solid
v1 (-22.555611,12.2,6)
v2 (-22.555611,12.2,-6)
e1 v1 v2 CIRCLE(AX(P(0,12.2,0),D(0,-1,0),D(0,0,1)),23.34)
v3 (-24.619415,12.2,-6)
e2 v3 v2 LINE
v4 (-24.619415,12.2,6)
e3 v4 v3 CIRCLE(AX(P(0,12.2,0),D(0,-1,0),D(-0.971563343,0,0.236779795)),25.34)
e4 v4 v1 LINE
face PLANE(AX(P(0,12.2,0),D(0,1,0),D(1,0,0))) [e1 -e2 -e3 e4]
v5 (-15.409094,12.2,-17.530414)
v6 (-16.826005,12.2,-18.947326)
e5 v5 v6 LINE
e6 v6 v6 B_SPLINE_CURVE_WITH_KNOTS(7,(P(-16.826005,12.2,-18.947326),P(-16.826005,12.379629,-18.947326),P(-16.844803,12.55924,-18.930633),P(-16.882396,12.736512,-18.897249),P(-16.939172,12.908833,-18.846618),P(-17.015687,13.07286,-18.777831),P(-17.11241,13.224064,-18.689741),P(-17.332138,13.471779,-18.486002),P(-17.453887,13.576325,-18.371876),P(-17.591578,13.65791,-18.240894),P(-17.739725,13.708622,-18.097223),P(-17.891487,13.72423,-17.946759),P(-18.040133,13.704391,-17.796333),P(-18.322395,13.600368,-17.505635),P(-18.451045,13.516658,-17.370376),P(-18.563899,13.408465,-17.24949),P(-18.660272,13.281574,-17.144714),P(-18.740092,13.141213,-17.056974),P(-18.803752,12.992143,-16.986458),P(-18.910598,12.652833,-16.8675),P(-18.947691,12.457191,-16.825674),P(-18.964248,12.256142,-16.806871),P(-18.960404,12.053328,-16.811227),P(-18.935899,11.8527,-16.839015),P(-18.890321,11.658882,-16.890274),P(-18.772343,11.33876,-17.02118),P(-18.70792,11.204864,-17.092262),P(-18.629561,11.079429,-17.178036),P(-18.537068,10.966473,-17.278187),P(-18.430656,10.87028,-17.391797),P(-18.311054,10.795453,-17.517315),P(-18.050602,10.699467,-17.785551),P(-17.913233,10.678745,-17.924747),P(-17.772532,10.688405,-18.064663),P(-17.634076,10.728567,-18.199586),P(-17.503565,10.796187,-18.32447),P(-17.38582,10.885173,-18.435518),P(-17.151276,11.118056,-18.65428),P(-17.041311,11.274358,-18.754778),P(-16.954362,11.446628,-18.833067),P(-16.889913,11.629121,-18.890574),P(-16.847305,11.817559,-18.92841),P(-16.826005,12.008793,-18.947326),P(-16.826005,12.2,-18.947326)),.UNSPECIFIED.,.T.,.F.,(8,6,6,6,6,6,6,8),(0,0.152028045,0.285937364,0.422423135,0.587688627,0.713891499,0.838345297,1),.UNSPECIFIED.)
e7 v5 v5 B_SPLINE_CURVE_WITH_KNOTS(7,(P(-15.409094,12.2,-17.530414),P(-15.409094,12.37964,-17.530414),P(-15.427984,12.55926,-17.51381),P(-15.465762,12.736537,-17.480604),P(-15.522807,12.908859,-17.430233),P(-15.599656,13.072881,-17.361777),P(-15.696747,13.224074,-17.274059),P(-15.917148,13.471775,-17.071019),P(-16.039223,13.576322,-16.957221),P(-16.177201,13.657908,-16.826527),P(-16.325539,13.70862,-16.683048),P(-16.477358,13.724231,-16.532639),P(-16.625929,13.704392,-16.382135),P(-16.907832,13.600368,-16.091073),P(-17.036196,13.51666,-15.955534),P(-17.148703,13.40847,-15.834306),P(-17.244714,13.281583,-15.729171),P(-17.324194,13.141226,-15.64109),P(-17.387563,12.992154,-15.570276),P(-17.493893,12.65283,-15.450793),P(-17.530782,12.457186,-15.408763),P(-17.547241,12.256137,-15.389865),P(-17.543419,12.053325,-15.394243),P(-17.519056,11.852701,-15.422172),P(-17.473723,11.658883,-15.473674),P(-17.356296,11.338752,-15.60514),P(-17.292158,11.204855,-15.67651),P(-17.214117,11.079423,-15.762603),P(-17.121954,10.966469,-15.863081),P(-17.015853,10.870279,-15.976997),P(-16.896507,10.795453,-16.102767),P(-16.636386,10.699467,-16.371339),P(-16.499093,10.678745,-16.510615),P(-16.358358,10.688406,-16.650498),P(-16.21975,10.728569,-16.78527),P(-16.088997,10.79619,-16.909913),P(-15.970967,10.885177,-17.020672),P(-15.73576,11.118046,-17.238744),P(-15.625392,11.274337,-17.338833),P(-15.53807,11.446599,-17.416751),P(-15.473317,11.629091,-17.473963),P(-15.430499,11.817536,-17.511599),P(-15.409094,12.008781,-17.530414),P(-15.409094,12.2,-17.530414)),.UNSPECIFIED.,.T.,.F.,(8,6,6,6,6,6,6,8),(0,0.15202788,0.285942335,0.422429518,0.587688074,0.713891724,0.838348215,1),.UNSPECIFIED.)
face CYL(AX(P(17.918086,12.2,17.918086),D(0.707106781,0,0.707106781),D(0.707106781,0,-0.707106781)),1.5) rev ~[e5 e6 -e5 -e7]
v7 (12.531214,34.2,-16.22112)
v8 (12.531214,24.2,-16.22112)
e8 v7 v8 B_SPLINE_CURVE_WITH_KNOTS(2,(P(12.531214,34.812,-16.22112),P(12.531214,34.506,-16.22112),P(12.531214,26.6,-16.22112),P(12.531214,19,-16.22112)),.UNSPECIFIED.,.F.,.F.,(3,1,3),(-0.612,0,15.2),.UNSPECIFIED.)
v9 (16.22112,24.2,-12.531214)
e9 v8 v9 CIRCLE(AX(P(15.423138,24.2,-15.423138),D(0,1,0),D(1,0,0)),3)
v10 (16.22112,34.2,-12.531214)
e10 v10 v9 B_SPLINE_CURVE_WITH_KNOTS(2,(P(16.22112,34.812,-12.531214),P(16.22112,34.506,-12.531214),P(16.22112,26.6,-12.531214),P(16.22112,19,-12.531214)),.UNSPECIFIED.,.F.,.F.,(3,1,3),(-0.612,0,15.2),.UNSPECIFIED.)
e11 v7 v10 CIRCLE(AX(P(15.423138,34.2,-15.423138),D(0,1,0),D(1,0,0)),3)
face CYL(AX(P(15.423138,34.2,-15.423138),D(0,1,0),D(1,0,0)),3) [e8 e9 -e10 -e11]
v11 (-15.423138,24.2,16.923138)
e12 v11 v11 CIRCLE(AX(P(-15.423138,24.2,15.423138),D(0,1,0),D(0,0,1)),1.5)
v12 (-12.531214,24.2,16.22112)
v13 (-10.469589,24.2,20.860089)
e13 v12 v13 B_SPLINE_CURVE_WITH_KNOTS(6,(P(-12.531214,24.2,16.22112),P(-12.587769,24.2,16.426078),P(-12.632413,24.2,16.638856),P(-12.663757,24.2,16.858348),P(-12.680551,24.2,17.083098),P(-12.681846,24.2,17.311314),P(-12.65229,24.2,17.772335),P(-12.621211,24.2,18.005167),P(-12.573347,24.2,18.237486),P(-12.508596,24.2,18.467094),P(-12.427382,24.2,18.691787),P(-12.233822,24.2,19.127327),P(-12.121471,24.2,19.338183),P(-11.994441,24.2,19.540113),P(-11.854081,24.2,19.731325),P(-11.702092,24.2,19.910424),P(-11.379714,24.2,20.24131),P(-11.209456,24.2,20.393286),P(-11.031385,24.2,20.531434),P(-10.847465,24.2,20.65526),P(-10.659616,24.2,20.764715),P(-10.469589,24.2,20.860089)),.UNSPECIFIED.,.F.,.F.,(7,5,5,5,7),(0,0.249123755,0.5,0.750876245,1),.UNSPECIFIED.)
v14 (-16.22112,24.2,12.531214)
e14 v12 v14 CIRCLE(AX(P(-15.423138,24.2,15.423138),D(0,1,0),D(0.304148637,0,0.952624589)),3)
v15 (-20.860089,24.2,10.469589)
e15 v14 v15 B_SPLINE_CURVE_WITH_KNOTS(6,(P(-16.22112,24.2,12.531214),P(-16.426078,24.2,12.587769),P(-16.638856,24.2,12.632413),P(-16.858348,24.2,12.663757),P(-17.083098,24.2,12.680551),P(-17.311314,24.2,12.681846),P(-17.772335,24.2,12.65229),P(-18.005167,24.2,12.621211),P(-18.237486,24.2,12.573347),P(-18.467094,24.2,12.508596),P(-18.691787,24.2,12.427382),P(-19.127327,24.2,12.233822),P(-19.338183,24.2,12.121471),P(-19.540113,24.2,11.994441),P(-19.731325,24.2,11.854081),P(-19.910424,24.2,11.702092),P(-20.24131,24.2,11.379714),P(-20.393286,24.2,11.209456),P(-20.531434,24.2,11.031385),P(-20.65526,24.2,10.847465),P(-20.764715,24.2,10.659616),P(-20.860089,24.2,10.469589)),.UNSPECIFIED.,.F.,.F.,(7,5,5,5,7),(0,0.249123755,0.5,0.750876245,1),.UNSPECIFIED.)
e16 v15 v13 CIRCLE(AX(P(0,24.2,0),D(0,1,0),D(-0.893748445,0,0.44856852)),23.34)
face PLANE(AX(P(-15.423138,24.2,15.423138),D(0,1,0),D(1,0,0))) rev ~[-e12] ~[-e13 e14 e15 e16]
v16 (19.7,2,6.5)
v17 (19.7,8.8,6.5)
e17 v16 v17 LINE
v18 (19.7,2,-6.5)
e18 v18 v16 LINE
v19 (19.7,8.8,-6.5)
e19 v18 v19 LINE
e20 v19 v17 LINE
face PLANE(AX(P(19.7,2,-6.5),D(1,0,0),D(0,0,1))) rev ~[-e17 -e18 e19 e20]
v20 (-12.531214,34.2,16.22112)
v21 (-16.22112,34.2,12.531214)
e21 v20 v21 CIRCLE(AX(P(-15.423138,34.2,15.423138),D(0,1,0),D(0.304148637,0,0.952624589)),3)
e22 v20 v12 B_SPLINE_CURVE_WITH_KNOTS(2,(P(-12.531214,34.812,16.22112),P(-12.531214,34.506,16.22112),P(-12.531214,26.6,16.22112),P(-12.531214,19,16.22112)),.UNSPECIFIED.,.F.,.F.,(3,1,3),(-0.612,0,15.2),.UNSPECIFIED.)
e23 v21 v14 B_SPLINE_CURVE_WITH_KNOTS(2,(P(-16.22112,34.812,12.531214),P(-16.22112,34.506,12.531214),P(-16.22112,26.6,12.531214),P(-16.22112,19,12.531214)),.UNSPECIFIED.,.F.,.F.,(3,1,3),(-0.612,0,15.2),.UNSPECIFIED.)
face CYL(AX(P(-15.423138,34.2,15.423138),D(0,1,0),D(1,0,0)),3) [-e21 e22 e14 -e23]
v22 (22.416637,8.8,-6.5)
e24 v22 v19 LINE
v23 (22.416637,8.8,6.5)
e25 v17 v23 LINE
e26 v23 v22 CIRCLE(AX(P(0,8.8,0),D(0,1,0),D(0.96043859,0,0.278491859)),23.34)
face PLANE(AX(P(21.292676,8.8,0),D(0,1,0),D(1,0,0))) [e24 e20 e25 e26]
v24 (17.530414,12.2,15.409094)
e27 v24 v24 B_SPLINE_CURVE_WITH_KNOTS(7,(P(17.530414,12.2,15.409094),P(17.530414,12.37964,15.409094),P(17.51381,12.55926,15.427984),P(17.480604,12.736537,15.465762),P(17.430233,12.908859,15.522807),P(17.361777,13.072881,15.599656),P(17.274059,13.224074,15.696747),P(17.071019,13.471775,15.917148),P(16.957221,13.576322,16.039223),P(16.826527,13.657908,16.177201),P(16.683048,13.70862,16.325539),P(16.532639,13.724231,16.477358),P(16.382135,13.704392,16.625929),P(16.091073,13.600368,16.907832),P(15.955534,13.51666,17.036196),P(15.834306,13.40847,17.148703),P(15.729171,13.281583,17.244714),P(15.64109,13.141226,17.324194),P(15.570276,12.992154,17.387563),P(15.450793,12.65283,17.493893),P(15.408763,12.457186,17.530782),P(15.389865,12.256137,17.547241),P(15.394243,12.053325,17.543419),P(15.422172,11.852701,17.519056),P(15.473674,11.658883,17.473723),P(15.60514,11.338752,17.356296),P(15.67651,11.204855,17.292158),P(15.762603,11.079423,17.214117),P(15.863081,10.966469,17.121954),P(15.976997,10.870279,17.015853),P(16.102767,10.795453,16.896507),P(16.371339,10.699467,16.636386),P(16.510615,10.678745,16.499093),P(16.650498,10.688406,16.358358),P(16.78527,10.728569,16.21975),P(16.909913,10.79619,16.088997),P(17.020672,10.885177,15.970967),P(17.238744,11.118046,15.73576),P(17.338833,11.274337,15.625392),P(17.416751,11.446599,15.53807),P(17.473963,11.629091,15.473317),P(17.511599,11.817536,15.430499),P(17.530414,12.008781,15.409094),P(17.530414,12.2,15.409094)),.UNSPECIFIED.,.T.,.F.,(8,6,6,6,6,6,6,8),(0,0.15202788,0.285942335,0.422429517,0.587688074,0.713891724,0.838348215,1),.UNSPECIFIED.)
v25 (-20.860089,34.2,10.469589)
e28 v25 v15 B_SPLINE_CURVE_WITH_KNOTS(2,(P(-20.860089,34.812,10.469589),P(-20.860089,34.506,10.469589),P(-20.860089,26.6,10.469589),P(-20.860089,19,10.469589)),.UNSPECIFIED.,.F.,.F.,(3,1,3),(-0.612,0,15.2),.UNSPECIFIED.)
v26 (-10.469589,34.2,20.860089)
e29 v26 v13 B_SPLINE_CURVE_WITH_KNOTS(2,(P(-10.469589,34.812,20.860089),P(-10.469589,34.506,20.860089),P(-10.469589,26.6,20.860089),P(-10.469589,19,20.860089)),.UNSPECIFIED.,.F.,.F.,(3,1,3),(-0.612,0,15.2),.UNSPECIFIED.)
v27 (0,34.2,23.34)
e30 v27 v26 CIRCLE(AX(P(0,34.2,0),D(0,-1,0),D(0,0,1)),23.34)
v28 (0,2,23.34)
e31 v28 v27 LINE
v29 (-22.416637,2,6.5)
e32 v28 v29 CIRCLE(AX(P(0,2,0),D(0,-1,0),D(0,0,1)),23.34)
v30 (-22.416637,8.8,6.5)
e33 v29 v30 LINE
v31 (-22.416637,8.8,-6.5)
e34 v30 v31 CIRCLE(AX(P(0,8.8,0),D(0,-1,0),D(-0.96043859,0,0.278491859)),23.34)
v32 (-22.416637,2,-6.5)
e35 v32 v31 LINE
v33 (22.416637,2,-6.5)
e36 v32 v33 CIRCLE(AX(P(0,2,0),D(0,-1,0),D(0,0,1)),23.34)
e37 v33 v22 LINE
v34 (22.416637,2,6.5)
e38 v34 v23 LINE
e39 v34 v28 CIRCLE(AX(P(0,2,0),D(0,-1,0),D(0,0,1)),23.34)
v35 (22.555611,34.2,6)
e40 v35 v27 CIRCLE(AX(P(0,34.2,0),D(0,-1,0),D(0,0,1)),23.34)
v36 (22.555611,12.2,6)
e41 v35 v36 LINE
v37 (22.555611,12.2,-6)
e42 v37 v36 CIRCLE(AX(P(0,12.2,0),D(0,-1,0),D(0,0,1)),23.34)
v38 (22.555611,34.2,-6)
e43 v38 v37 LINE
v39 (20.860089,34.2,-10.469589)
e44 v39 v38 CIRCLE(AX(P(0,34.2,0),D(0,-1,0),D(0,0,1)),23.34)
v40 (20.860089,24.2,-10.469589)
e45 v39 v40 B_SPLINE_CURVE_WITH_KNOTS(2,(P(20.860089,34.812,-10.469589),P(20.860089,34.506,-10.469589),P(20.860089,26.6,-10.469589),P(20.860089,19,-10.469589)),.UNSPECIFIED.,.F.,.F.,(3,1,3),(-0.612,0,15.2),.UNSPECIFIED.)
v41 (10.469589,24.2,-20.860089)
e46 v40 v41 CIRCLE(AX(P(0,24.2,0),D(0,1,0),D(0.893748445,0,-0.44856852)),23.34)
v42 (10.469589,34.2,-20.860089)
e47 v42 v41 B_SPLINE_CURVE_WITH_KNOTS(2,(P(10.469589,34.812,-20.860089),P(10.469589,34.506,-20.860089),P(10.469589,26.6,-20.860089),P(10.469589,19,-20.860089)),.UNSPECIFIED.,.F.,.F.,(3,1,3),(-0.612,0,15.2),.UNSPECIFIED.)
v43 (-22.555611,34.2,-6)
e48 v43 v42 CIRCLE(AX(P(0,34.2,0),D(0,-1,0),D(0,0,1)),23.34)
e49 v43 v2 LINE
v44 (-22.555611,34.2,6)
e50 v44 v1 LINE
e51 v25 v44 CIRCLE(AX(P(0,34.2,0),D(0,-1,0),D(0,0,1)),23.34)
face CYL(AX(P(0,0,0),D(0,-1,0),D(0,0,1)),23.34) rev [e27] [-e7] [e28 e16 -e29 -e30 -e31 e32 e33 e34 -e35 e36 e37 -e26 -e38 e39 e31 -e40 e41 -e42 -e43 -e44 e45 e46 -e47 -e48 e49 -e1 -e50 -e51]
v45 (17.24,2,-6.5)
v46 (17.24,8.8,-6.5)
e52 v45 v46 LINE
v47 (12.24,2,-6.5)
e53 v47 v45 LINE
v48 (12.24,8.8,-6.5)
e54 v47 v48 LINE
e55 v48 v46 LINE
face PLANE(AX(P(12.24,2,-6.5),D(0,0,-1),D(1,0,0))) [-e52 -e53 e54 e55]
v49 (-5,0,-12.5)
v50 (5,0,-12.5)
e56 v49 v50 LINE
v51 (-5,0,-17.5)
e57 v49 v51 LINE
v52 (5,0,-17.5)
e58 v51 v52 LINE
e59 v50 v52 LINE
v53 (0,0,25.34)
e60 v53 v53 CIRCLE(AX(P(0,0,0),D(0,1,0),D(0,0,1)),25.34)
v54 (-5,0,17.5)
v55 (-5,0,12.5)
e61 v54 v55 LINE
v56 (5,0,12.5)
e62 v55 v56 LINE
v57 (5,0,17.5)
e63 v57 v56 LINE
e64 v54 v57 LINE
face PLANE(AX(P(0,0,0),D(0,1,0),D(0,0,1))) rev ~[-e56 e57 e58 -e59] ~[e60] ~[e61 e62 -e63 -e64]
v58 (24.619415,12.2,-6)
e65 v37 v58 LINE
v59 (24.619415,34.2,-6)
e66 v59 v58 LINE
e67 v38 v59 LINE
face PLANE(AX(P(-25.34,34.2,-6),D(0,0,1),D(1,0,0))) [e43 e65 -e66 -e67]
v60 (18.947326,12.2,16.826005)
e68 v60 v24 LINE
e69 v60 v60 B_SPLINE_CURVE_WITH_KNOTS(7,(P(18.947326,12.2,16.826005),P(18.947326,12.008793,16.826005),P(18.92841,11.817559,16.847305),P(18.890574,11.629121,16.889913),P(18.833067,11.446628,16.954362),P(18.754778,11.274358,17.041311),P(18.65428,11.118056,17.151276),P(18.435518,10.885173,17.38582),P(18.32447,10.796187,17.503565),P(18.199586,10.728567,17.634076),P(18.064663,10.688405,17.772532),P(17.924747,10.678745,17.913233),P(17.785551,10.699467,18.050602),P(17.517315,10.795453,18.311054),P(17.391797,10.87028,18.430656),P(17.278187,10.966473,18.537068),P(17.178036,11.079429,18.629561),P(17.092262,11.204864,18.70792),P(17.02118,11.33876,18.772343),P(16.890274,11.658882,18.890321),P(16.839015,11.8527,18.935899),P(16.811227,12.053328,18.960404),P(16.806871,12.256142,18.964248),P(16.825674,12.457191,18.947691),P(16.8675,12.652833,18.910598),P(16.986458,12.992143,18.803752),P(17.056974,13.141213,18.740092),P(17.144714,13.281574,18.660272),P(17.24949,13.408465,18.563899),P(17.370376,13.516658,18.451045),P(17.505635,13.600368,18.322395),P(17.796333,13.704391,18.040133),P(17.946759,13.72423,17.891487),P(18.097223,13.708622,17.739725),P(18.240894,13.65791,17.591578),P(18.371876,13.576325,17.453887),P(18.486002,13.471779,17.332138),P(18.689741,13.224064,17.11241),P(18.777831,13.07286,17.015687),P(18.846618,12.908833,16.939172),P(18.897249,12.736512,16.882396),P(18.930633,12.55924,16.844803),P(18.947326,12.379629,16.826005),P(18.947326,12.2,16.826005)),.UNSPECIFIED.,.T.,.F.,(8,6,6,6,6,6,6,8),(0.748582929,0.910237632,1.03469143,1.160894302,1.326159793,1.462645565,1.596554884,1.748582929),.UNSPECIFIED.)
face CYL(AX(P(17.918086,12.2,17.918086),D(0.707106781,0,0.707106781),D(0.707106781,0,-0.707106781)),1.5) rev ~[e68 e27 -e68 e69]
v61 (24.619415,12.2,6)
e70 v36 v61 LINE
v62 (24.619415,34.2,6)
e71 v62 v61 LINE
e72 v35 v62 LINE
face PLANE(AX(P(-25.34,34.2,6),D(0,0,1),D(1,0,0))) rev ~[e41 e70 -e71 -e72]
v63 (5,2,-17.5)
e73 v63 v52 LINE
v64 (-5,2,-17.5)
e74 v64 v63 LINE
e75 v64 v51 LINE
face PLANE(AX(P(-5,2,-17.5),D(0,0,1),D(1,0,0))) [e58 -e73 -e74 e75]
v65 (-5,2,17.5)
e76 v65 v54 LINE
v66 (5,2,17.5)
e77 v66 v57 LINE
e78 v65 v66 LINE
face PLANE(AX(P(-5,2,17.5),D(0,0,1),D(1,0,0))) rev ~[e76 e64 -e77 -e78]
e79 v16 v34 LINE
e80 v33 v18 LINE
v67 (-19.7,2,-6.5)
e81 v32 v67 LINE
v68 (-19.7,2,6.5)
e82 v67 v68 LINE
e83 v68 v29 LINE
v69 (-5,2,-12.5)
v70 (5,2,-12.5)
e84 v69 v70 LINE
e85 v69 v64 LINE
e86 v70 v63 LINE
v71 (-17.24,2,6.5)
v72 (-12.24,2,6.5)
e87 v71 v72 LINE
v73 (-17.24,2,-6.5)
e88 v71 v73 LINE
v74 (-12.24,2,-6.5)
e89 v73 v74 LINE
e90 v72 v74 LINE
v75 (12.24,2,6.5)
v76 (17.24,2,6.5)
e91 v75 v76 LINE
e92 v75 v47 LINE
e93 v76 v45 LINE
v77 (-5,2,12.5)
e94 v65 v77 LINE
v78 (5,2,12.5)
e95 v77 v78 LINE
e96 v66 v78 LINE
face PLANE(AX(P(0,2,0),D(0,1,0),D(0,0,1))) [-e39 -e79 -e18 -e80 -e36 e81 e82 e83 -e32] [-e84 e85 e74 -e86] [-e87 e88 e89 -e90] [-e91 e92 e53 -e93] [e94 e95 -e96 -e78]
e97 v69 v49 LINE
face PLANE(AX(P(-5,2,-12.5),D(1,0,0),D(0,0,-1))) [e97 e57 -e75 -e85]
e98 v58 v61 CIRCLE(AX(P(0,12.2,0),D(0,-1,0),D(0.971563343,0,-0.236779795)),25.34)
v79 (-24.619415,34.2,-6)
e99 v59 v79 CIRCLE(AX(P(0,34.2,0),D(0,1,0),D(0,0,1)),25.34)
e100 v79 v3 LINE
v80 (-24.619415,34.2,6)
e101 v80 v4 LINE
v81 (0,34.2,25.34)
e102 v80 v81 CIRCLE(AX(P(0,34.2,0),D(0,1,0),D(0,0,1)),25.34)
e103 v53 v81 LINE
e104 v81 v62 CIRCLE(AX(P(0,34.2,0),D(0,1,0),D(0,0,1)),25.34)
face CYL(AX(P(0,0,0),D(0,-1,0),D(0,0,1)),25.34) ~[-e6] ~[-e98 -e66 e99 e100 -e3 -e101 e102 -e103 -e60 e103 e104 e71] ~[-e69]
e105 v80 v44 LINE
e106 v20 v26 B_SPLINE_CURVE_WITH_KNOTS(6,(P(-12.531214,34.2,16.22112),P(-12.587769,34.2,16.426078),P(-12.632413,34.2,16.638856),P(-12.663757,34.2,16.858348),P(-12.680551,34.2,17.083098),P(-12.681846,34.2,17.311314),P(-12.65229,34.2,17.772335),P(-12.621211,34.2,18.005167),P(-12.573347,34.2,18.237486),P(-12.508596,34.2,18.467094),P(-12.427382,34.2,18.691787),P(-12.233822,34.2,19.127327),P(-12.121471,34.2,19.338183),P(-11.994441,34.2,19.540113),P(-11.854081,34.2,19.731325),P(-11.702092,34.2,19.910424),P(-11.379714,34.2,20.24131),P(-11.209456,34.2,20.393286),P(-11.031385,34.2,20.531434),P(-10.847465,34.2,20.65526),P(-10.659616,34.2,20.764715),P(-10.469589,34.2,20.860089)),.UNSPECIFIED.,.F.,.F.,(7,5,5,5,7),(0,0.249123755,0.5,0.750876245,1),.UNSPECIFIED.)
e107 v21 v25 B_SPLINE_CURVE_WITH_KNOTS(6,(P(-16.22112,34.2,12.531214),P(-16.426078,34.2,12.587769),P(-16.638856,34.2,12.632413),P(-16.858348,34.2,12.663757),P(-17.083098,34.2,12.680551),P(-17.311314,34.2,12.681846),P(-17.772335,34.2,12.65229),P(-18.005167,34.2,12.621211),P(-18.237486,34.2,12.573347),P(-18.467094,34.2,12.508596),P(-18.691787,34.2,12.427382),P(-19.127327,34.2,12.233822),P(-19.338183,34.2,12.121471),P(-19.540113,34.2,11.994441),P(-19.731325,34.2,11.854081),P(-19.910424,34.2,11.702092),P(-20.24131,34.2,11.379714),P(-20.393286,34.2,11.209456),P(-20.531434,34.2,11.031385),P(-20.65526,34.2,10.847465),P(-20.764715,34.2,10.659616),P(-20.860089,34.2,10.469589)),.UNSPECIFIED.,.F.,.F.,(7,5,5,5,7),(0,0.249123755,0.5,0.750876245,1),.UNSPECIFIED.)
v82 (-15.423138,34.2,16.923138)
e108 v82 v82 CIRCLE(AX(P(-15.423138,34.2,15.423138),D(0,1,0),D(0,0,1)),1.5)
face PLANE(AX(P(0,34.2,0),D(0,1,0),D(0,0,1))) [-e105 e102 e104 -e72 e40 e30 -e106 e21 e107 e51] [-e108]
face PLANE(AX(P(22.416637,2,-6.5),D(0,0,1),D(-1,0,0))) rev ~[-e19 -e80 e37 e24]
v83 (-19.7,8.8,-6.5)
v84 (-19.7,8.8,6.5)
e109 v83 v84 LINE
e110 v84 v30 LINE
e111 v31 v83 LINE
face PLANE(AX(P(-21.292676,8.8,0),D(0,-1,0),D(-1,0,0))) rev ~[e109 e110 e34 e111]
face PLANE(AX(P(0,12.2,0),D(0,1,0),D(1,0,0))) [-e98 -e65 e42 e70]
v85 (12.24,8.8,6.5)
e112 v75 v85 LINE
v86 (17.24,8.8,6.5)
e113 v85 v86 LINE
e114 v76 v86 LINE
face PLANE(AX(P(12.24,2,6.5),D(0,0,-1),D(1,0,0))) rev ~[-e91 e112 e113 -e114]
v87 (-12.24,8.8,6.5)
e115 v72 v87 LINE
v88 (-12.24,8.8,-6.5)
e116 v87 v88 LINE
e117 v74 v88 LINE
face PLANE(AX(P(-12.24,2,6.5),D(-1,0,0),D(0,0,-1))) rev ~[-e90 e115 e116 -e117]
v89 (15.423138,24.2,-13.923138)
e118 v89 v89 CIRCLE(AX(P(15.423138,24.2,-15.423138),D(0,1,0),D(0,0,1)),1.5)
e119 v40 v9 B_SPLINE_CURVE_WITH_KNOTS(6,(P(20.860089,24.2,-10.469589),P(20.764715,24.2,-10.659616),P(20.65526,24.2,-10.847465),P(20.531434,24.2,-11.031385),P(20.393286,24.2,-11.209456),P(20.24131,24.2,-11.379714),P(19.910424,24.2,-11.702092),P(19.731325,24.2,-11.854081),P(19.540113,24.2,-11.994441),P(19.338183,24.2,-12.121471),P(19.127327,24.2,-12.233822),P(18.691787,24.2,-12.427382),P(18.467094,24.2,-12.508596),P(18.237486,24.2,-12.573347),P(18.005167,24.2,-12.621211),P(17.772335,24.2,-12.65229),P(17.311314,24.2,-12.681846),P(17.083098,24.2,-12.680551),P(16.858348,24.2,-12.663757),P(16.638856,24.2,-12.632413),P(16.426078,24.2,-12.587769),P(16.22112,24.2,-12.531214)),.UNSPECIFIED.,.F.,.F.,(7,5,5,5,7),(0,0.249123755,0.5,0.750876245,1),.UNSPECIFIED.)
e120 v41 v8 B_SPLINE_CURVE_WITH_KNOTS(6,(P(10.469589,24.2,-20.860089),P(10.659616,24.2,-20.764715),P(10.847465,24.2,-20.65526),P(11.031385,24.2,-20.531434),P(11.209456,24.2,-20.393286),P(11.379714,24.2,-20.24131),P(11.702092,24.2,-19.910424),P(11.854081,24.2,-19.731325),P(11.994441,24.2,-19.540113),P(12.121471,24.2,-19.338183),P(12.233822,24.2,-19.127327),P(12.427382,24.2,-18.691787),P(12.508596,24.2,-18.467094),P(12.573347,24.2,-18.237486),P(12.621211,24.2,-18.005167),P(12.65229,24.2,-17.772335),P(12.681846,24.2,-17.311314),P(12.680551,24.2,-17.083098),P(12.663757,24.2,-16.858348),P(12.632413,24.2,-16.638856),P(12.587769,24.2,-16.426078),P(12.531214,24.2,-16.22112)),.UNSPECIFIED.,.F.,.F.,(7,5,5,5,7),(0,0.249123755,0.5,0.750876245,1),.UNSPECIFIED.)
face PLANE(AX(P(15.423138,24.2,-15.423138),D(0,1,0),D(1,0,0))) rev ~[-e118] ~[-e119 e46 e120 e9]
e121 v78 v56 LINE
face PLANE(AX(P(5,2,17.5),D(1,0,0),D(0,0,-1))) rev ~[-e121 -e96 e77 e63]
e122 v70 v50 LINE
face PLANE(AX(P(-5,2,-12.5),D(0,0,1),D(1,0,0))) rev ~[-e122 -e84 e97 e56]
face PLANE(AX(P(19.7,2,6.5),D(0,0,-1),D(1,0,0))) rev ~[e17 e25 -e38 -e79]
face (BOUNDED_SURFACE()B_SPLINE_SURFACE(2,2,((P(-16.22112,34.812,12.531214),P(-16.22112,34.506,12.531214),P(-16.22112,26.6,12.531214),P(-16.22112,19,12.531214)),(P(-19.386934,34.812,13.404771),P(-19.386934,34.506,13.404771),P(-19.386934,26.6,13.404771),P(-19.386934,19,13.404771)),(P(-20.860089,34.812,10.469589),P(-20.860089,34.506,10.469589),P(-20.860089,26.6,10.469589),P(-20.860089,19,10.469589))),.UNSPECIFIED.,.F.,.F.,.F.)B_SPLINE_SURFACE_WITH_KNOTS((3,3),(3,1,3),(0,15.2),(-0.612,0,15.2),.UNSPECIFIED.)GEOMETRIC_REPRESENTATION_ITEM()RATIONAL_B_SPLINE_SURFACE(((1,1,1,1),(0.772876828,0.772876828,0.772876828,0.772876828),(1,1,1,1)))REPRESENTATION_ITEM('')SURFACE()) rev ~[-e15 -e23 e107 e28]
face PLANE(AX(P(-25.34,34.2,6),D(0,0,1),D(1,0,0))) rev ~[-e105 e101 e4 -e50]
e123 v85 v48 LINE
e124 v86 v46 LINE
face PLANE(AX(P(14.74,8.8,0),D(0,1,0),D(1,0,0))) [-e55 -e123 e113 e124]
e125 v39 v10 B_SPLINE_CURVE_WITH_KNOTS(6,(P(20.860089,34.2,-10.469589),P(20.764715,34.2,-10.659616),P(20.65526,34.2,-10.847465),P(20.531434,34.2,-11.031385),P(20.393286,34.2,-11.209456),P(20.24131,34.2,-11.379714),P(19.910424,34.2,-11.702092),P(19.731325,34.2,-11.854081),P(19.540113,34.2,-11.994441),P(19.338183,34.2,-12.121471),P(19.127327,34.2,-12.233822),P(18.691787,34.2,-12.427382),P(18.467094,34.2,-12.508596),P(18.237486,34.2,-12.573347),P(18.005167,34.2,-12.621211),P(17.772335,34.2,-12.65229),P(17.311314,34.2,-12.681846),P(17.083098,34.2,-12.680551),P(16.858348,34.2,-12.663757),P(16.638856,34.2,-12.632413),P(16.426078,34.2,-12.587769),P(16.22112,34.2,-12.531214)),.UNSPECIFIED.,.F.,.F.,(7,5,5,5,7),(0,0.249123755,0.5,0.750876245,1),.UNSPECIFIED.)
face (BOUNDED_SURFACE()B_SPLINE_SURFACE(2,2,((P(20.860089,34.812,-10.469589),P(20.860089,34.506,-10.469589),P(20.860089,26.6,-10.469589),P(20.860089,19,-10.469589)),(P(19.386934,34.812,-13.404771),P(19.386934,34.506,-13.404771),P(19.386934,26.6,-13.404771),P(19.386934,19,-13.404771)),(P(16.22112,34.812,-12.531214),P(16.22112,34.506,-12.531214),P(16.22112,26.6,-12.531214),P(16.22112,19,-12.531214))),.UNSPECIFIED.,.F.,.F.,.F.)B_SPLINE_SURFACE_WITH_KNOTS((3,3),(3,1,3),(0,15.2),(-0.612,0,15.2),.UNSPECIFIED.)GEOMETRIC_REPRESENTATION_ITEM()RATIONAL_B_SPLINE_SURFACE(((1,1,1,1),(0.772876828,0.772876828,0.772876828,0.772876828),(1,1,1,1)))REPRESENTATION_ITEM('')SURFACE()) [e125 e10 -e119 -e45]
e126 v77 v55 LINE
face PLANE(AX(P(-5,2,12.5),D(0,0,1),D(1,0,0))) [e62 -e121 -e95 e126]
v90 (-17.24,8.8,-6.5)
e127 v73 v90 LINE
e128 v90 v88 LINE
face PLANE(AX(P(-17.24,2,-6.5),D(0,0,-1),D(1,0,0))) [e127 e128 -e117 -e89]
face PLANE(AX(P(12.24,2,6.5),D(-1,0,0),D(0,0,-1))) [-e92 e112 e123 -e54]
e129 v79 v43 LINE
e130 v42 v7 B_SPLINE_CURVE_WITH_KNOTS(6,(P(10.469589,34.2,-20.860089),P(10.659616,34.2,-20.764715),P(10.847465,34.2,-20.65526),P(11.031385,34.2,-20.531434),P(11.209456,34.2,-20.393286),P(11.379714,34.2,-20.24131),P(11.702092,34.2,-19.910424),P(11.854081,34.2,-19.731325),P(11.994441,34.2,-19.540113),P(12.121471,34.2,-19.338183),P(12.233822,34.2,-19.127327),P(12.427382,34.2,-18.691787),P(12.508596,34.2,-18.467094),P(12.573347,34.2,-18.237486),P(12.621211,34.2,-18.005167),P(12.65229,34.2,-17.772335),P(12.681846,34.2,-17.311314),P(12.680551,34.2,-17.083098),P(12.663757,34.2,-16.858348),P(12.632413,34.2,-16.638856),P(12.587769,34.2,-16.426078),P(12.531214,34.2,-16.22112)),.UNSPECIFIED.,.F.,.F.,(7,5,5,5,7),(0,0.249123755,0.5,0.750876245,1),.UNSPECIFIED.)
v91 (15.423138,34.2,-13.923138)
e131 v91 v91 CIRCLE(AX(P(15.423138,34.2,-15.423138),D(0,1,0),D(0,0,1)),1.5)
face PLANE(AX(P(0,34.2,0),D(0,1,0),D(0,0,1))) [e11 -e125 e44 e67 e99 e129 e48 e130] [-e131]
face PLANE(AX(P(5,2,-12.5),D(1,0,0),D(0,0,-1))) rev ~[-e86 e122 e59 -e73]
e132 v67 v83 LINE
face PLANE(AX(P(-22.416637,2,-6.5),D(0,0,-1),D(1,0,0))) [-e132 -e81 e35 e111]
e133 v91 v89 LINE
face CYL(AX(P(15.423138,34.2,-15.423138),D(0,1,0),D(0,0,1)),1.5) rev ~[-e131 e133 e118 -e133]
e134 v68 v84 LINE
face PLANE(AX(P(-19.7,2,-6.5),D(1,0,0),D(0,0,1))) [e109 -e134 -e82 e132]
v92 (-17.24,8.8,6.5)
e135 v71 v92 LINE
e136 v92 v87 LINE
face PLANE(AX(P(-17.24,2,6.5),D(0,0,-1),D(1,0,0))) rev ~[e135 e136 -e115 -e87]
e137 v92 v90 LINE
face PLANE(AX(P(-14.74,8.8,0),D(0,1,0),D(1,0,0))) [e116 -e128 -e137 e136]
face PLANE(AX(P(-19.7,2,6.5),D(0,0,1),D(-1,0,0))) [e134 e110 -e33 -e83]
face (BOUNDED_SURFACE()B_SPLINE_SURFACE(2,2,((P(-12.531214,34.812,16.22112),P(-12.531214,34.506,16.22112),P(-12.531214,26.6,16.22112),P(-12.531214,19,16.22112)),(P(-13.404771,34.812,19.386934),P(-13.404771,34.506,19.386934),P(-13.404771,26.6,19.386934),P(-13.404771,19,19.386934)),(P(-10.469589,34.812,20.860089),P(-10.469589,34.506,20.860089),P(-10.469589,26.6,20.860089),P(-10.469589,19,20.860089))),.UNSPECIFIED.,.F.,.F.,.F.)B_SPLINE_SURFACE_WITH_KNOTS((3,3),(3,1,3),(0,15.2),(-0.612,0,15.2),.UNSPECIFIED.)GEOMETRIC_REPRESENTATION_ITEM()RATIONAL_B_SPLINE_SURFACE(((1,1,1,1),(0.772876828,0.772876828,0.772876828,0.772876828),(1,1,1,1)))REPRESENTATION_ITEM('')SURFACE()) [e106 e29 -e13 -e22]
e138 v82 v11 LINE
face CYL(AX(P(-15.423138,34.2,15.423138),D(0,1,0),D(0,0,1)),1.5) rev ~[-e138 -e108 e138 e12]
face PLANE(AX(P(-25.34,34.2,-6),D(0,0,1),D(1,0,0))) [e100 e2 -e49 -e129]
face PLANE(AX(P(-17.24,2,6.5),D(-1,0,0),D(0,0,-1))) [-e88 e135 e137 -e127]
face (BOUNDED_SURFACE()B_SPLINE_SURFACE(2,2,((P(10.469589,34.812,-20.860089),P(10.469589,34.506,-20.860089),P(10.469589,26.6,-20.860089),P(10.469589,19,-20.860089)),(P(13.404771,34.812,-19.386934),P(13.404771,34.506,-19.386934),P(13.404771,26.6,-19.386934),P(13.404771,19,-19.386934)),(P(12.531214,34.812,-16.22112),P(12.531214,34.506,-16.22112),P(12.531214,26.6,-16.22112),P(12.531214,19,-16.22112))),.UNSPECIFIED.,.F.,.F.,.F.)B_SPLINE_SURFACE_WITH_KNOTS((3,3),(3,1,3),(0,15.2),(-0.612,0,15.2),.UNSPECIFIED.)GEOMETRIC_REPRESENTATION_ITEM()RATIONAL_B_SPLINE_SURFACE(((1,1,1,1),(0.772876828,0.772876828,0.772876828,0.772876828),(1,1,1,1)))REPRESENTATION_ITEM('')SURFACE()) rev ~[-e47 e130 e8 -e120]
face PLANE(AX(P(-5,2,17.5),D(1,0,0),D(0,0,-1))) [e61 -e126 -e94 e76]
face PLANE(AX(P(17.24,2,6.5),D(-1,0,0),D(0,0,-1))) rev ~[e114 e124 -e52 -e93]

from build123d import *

# Parameters (mm, degrees)
SKETCH1_R           = 25.34
BOSS_EXTRUDE1_DEPTH = 34.2
SHELL1_T            = -2
SKETCH2_W           = 50.68
SKETCH2_H           = 12
CUT_EXTRUDE1_DEPTH  = 22
SKETCH3_W           = 5
SKETCH3_H           = 13
BOSS_EXTRUDE2_DEPTH = 6.8
SKETCH4_R           = 3
SKETCH4_R_2         = 1.5
BOSS_EXTRUDE3_DEPTH = 10
FILLET1_R           = 4
SKETCH6_R           = 1.5
CUT_EXTRUDE2_DEPTH  = 71.08683178
SKETCH7_W           = 10
SKETCH7_H           = 5
CUT_EXTRUDE3_DEPTH  = 49.177496994


with BuildPart() as part:
    # Sketch1 → Boss-Extrude1 (new body)
    with BuildSketch(Plane(origin=(0, 0, 0), x_dir=(1, 0, 0), z_dir=(0, 1, 0))):
        with Locations(Location((0, 0, 0), (0, 0, 270))):
            Circle(SKETCH1_R)
    extrude(amount=BOSS_EXTRUDE1_DEPTH)

    # Shell1
    shell1_openings = [part.faces().sort_by_distance(p)[0] for p in [
        (0, 34.2, 0),
    ]]
    offset(amount=SHELL1_T, openings=shell1_openings, kind=Kind.INTERSECTION)

    # Sketch2 → Cut-Extrude1 (cut)
    with BuildSketch(Plane(origin=(0, 34.2, 0), x_dir=(1, 0, 0), z_dir=(0, 1, 0))):
        Rectangle(SKETCH2_W, SKETCH2_H)
    extrude(amount=-CUT_EXTRUDE1_DEPTH, mode=Mode.SUBTRACT)

    # Sketch3 → Boss-Extrude2 (add)
    with BuildSketch(Plane(origin=(0, 2, 0), x_dir=(1, 0, 0), z_dir=(0, 1, 0))):
        with Locations((14.74, 0)):
            Rectangle(SKETCH3_W, SKETCH3_H)
        with BuildLine():
            Line((22.416636679, 6.5), (19.7, 6.5))
            Line((19.7, 6.5), (19.7, -6.5))
            Line((19.7, -6.5), (22.416636679, -6.5))
            ThreePointArc((22.416636679, -6.5), (23.34, 0), (22.416636679, 6.5))
        make_face()
        with BuildLine():
            Line((-19.7, -6.5), (-22.416636679, -6.5))
            ThreePointArc((-22.416636679, -6.5), (-23.34, 0), (-22.416636679, 6.5))
            Line((-22.416636679, 6.5), (-19.7, 6.5))
            Line((-19.7, 6.5), (-19.7, -6.5))
        make_face()
        with Locations((-14.74, 0)):
            Rectangle(SKETCH3_W, SKETCH3_H)
    extrude(amount=BOSS_EXTRUDE2_DEPTH)

    # Sketch4 → Boss-Extrude3 (add)
    with BuildSketch(Plane(origin=(0, 34.2, 0), x_dir=(1, 0, 0), z_dir=(0, 1, 0))):
        with Locations((15.423138364, 15.423138364)):
            Circle(SKETCH4_R)
        with Locations(Location((15.423138364, 15.423138364, 0), (0, 0, 270))):
            Circle(SKETCH4_R_2, mode=Mode.SUBTRACT)
        with Locations((-15.423138364, -15.423138364)):
            Circle(SKETCH4_R)
        with Locations(Location((-15.423138364, -15.423138364, 0), (0, 0, 270))):
            Circle(SKETCH4_R_2, mode=Mode.SUBTRACT)
    extrude(amount=-BOSS_EXTRUDE3_DEPTH)

    # Fillet1
    fillet1_edges = [part.edges().sort_by_distance(p)[0] for p in [
        (-18.28101213, 29.2, 14.510692455),
        (-14.510692455, 29.2, 18.28101213),
        (18.28101213, 29.2, -14.510692455),
        (14.510692455, 29.2, -18.28101213),
    ]]
    fillet(fillet1_edges, radius=FILLET1_R)

    # Sketch6 → Cut-Extrude2 (cut, through all)
    with BuildSketch(Plane(origin=(17.918085835, 34.2, 17.918085835), x_dir=(0.7071067811865487, 0, -0.7071067811865464), z_dir=(0.7071067811865464, 0, 0.7071067811865487))):
        with Locations((0, -22)):
            Circle(SKETCH6_R)
    extrude(amount=-CUT_EXTRUDE2_DEPTH, mode=Mode.SUBTRACT)

    # Sketch7 → Cut-Extrude3 (cut, through all)
    with BuildSketch(Plane(origin=(0, 2, 0), x_dir=(1, 0, 0), z_dir=(0, 1, 0))):
        with Locations((0, 15)):
            Rectangle(SKETCH7_W, SKETCH7_H)
        with Locations((0, -15)):
            Rectangle(SKETCH7_W, SKETCH7_H)
    extrude(amount=-CUT_EXTRUDE3_DEPTH, mode=Mode.SUBTRACT)


solid = part.part
